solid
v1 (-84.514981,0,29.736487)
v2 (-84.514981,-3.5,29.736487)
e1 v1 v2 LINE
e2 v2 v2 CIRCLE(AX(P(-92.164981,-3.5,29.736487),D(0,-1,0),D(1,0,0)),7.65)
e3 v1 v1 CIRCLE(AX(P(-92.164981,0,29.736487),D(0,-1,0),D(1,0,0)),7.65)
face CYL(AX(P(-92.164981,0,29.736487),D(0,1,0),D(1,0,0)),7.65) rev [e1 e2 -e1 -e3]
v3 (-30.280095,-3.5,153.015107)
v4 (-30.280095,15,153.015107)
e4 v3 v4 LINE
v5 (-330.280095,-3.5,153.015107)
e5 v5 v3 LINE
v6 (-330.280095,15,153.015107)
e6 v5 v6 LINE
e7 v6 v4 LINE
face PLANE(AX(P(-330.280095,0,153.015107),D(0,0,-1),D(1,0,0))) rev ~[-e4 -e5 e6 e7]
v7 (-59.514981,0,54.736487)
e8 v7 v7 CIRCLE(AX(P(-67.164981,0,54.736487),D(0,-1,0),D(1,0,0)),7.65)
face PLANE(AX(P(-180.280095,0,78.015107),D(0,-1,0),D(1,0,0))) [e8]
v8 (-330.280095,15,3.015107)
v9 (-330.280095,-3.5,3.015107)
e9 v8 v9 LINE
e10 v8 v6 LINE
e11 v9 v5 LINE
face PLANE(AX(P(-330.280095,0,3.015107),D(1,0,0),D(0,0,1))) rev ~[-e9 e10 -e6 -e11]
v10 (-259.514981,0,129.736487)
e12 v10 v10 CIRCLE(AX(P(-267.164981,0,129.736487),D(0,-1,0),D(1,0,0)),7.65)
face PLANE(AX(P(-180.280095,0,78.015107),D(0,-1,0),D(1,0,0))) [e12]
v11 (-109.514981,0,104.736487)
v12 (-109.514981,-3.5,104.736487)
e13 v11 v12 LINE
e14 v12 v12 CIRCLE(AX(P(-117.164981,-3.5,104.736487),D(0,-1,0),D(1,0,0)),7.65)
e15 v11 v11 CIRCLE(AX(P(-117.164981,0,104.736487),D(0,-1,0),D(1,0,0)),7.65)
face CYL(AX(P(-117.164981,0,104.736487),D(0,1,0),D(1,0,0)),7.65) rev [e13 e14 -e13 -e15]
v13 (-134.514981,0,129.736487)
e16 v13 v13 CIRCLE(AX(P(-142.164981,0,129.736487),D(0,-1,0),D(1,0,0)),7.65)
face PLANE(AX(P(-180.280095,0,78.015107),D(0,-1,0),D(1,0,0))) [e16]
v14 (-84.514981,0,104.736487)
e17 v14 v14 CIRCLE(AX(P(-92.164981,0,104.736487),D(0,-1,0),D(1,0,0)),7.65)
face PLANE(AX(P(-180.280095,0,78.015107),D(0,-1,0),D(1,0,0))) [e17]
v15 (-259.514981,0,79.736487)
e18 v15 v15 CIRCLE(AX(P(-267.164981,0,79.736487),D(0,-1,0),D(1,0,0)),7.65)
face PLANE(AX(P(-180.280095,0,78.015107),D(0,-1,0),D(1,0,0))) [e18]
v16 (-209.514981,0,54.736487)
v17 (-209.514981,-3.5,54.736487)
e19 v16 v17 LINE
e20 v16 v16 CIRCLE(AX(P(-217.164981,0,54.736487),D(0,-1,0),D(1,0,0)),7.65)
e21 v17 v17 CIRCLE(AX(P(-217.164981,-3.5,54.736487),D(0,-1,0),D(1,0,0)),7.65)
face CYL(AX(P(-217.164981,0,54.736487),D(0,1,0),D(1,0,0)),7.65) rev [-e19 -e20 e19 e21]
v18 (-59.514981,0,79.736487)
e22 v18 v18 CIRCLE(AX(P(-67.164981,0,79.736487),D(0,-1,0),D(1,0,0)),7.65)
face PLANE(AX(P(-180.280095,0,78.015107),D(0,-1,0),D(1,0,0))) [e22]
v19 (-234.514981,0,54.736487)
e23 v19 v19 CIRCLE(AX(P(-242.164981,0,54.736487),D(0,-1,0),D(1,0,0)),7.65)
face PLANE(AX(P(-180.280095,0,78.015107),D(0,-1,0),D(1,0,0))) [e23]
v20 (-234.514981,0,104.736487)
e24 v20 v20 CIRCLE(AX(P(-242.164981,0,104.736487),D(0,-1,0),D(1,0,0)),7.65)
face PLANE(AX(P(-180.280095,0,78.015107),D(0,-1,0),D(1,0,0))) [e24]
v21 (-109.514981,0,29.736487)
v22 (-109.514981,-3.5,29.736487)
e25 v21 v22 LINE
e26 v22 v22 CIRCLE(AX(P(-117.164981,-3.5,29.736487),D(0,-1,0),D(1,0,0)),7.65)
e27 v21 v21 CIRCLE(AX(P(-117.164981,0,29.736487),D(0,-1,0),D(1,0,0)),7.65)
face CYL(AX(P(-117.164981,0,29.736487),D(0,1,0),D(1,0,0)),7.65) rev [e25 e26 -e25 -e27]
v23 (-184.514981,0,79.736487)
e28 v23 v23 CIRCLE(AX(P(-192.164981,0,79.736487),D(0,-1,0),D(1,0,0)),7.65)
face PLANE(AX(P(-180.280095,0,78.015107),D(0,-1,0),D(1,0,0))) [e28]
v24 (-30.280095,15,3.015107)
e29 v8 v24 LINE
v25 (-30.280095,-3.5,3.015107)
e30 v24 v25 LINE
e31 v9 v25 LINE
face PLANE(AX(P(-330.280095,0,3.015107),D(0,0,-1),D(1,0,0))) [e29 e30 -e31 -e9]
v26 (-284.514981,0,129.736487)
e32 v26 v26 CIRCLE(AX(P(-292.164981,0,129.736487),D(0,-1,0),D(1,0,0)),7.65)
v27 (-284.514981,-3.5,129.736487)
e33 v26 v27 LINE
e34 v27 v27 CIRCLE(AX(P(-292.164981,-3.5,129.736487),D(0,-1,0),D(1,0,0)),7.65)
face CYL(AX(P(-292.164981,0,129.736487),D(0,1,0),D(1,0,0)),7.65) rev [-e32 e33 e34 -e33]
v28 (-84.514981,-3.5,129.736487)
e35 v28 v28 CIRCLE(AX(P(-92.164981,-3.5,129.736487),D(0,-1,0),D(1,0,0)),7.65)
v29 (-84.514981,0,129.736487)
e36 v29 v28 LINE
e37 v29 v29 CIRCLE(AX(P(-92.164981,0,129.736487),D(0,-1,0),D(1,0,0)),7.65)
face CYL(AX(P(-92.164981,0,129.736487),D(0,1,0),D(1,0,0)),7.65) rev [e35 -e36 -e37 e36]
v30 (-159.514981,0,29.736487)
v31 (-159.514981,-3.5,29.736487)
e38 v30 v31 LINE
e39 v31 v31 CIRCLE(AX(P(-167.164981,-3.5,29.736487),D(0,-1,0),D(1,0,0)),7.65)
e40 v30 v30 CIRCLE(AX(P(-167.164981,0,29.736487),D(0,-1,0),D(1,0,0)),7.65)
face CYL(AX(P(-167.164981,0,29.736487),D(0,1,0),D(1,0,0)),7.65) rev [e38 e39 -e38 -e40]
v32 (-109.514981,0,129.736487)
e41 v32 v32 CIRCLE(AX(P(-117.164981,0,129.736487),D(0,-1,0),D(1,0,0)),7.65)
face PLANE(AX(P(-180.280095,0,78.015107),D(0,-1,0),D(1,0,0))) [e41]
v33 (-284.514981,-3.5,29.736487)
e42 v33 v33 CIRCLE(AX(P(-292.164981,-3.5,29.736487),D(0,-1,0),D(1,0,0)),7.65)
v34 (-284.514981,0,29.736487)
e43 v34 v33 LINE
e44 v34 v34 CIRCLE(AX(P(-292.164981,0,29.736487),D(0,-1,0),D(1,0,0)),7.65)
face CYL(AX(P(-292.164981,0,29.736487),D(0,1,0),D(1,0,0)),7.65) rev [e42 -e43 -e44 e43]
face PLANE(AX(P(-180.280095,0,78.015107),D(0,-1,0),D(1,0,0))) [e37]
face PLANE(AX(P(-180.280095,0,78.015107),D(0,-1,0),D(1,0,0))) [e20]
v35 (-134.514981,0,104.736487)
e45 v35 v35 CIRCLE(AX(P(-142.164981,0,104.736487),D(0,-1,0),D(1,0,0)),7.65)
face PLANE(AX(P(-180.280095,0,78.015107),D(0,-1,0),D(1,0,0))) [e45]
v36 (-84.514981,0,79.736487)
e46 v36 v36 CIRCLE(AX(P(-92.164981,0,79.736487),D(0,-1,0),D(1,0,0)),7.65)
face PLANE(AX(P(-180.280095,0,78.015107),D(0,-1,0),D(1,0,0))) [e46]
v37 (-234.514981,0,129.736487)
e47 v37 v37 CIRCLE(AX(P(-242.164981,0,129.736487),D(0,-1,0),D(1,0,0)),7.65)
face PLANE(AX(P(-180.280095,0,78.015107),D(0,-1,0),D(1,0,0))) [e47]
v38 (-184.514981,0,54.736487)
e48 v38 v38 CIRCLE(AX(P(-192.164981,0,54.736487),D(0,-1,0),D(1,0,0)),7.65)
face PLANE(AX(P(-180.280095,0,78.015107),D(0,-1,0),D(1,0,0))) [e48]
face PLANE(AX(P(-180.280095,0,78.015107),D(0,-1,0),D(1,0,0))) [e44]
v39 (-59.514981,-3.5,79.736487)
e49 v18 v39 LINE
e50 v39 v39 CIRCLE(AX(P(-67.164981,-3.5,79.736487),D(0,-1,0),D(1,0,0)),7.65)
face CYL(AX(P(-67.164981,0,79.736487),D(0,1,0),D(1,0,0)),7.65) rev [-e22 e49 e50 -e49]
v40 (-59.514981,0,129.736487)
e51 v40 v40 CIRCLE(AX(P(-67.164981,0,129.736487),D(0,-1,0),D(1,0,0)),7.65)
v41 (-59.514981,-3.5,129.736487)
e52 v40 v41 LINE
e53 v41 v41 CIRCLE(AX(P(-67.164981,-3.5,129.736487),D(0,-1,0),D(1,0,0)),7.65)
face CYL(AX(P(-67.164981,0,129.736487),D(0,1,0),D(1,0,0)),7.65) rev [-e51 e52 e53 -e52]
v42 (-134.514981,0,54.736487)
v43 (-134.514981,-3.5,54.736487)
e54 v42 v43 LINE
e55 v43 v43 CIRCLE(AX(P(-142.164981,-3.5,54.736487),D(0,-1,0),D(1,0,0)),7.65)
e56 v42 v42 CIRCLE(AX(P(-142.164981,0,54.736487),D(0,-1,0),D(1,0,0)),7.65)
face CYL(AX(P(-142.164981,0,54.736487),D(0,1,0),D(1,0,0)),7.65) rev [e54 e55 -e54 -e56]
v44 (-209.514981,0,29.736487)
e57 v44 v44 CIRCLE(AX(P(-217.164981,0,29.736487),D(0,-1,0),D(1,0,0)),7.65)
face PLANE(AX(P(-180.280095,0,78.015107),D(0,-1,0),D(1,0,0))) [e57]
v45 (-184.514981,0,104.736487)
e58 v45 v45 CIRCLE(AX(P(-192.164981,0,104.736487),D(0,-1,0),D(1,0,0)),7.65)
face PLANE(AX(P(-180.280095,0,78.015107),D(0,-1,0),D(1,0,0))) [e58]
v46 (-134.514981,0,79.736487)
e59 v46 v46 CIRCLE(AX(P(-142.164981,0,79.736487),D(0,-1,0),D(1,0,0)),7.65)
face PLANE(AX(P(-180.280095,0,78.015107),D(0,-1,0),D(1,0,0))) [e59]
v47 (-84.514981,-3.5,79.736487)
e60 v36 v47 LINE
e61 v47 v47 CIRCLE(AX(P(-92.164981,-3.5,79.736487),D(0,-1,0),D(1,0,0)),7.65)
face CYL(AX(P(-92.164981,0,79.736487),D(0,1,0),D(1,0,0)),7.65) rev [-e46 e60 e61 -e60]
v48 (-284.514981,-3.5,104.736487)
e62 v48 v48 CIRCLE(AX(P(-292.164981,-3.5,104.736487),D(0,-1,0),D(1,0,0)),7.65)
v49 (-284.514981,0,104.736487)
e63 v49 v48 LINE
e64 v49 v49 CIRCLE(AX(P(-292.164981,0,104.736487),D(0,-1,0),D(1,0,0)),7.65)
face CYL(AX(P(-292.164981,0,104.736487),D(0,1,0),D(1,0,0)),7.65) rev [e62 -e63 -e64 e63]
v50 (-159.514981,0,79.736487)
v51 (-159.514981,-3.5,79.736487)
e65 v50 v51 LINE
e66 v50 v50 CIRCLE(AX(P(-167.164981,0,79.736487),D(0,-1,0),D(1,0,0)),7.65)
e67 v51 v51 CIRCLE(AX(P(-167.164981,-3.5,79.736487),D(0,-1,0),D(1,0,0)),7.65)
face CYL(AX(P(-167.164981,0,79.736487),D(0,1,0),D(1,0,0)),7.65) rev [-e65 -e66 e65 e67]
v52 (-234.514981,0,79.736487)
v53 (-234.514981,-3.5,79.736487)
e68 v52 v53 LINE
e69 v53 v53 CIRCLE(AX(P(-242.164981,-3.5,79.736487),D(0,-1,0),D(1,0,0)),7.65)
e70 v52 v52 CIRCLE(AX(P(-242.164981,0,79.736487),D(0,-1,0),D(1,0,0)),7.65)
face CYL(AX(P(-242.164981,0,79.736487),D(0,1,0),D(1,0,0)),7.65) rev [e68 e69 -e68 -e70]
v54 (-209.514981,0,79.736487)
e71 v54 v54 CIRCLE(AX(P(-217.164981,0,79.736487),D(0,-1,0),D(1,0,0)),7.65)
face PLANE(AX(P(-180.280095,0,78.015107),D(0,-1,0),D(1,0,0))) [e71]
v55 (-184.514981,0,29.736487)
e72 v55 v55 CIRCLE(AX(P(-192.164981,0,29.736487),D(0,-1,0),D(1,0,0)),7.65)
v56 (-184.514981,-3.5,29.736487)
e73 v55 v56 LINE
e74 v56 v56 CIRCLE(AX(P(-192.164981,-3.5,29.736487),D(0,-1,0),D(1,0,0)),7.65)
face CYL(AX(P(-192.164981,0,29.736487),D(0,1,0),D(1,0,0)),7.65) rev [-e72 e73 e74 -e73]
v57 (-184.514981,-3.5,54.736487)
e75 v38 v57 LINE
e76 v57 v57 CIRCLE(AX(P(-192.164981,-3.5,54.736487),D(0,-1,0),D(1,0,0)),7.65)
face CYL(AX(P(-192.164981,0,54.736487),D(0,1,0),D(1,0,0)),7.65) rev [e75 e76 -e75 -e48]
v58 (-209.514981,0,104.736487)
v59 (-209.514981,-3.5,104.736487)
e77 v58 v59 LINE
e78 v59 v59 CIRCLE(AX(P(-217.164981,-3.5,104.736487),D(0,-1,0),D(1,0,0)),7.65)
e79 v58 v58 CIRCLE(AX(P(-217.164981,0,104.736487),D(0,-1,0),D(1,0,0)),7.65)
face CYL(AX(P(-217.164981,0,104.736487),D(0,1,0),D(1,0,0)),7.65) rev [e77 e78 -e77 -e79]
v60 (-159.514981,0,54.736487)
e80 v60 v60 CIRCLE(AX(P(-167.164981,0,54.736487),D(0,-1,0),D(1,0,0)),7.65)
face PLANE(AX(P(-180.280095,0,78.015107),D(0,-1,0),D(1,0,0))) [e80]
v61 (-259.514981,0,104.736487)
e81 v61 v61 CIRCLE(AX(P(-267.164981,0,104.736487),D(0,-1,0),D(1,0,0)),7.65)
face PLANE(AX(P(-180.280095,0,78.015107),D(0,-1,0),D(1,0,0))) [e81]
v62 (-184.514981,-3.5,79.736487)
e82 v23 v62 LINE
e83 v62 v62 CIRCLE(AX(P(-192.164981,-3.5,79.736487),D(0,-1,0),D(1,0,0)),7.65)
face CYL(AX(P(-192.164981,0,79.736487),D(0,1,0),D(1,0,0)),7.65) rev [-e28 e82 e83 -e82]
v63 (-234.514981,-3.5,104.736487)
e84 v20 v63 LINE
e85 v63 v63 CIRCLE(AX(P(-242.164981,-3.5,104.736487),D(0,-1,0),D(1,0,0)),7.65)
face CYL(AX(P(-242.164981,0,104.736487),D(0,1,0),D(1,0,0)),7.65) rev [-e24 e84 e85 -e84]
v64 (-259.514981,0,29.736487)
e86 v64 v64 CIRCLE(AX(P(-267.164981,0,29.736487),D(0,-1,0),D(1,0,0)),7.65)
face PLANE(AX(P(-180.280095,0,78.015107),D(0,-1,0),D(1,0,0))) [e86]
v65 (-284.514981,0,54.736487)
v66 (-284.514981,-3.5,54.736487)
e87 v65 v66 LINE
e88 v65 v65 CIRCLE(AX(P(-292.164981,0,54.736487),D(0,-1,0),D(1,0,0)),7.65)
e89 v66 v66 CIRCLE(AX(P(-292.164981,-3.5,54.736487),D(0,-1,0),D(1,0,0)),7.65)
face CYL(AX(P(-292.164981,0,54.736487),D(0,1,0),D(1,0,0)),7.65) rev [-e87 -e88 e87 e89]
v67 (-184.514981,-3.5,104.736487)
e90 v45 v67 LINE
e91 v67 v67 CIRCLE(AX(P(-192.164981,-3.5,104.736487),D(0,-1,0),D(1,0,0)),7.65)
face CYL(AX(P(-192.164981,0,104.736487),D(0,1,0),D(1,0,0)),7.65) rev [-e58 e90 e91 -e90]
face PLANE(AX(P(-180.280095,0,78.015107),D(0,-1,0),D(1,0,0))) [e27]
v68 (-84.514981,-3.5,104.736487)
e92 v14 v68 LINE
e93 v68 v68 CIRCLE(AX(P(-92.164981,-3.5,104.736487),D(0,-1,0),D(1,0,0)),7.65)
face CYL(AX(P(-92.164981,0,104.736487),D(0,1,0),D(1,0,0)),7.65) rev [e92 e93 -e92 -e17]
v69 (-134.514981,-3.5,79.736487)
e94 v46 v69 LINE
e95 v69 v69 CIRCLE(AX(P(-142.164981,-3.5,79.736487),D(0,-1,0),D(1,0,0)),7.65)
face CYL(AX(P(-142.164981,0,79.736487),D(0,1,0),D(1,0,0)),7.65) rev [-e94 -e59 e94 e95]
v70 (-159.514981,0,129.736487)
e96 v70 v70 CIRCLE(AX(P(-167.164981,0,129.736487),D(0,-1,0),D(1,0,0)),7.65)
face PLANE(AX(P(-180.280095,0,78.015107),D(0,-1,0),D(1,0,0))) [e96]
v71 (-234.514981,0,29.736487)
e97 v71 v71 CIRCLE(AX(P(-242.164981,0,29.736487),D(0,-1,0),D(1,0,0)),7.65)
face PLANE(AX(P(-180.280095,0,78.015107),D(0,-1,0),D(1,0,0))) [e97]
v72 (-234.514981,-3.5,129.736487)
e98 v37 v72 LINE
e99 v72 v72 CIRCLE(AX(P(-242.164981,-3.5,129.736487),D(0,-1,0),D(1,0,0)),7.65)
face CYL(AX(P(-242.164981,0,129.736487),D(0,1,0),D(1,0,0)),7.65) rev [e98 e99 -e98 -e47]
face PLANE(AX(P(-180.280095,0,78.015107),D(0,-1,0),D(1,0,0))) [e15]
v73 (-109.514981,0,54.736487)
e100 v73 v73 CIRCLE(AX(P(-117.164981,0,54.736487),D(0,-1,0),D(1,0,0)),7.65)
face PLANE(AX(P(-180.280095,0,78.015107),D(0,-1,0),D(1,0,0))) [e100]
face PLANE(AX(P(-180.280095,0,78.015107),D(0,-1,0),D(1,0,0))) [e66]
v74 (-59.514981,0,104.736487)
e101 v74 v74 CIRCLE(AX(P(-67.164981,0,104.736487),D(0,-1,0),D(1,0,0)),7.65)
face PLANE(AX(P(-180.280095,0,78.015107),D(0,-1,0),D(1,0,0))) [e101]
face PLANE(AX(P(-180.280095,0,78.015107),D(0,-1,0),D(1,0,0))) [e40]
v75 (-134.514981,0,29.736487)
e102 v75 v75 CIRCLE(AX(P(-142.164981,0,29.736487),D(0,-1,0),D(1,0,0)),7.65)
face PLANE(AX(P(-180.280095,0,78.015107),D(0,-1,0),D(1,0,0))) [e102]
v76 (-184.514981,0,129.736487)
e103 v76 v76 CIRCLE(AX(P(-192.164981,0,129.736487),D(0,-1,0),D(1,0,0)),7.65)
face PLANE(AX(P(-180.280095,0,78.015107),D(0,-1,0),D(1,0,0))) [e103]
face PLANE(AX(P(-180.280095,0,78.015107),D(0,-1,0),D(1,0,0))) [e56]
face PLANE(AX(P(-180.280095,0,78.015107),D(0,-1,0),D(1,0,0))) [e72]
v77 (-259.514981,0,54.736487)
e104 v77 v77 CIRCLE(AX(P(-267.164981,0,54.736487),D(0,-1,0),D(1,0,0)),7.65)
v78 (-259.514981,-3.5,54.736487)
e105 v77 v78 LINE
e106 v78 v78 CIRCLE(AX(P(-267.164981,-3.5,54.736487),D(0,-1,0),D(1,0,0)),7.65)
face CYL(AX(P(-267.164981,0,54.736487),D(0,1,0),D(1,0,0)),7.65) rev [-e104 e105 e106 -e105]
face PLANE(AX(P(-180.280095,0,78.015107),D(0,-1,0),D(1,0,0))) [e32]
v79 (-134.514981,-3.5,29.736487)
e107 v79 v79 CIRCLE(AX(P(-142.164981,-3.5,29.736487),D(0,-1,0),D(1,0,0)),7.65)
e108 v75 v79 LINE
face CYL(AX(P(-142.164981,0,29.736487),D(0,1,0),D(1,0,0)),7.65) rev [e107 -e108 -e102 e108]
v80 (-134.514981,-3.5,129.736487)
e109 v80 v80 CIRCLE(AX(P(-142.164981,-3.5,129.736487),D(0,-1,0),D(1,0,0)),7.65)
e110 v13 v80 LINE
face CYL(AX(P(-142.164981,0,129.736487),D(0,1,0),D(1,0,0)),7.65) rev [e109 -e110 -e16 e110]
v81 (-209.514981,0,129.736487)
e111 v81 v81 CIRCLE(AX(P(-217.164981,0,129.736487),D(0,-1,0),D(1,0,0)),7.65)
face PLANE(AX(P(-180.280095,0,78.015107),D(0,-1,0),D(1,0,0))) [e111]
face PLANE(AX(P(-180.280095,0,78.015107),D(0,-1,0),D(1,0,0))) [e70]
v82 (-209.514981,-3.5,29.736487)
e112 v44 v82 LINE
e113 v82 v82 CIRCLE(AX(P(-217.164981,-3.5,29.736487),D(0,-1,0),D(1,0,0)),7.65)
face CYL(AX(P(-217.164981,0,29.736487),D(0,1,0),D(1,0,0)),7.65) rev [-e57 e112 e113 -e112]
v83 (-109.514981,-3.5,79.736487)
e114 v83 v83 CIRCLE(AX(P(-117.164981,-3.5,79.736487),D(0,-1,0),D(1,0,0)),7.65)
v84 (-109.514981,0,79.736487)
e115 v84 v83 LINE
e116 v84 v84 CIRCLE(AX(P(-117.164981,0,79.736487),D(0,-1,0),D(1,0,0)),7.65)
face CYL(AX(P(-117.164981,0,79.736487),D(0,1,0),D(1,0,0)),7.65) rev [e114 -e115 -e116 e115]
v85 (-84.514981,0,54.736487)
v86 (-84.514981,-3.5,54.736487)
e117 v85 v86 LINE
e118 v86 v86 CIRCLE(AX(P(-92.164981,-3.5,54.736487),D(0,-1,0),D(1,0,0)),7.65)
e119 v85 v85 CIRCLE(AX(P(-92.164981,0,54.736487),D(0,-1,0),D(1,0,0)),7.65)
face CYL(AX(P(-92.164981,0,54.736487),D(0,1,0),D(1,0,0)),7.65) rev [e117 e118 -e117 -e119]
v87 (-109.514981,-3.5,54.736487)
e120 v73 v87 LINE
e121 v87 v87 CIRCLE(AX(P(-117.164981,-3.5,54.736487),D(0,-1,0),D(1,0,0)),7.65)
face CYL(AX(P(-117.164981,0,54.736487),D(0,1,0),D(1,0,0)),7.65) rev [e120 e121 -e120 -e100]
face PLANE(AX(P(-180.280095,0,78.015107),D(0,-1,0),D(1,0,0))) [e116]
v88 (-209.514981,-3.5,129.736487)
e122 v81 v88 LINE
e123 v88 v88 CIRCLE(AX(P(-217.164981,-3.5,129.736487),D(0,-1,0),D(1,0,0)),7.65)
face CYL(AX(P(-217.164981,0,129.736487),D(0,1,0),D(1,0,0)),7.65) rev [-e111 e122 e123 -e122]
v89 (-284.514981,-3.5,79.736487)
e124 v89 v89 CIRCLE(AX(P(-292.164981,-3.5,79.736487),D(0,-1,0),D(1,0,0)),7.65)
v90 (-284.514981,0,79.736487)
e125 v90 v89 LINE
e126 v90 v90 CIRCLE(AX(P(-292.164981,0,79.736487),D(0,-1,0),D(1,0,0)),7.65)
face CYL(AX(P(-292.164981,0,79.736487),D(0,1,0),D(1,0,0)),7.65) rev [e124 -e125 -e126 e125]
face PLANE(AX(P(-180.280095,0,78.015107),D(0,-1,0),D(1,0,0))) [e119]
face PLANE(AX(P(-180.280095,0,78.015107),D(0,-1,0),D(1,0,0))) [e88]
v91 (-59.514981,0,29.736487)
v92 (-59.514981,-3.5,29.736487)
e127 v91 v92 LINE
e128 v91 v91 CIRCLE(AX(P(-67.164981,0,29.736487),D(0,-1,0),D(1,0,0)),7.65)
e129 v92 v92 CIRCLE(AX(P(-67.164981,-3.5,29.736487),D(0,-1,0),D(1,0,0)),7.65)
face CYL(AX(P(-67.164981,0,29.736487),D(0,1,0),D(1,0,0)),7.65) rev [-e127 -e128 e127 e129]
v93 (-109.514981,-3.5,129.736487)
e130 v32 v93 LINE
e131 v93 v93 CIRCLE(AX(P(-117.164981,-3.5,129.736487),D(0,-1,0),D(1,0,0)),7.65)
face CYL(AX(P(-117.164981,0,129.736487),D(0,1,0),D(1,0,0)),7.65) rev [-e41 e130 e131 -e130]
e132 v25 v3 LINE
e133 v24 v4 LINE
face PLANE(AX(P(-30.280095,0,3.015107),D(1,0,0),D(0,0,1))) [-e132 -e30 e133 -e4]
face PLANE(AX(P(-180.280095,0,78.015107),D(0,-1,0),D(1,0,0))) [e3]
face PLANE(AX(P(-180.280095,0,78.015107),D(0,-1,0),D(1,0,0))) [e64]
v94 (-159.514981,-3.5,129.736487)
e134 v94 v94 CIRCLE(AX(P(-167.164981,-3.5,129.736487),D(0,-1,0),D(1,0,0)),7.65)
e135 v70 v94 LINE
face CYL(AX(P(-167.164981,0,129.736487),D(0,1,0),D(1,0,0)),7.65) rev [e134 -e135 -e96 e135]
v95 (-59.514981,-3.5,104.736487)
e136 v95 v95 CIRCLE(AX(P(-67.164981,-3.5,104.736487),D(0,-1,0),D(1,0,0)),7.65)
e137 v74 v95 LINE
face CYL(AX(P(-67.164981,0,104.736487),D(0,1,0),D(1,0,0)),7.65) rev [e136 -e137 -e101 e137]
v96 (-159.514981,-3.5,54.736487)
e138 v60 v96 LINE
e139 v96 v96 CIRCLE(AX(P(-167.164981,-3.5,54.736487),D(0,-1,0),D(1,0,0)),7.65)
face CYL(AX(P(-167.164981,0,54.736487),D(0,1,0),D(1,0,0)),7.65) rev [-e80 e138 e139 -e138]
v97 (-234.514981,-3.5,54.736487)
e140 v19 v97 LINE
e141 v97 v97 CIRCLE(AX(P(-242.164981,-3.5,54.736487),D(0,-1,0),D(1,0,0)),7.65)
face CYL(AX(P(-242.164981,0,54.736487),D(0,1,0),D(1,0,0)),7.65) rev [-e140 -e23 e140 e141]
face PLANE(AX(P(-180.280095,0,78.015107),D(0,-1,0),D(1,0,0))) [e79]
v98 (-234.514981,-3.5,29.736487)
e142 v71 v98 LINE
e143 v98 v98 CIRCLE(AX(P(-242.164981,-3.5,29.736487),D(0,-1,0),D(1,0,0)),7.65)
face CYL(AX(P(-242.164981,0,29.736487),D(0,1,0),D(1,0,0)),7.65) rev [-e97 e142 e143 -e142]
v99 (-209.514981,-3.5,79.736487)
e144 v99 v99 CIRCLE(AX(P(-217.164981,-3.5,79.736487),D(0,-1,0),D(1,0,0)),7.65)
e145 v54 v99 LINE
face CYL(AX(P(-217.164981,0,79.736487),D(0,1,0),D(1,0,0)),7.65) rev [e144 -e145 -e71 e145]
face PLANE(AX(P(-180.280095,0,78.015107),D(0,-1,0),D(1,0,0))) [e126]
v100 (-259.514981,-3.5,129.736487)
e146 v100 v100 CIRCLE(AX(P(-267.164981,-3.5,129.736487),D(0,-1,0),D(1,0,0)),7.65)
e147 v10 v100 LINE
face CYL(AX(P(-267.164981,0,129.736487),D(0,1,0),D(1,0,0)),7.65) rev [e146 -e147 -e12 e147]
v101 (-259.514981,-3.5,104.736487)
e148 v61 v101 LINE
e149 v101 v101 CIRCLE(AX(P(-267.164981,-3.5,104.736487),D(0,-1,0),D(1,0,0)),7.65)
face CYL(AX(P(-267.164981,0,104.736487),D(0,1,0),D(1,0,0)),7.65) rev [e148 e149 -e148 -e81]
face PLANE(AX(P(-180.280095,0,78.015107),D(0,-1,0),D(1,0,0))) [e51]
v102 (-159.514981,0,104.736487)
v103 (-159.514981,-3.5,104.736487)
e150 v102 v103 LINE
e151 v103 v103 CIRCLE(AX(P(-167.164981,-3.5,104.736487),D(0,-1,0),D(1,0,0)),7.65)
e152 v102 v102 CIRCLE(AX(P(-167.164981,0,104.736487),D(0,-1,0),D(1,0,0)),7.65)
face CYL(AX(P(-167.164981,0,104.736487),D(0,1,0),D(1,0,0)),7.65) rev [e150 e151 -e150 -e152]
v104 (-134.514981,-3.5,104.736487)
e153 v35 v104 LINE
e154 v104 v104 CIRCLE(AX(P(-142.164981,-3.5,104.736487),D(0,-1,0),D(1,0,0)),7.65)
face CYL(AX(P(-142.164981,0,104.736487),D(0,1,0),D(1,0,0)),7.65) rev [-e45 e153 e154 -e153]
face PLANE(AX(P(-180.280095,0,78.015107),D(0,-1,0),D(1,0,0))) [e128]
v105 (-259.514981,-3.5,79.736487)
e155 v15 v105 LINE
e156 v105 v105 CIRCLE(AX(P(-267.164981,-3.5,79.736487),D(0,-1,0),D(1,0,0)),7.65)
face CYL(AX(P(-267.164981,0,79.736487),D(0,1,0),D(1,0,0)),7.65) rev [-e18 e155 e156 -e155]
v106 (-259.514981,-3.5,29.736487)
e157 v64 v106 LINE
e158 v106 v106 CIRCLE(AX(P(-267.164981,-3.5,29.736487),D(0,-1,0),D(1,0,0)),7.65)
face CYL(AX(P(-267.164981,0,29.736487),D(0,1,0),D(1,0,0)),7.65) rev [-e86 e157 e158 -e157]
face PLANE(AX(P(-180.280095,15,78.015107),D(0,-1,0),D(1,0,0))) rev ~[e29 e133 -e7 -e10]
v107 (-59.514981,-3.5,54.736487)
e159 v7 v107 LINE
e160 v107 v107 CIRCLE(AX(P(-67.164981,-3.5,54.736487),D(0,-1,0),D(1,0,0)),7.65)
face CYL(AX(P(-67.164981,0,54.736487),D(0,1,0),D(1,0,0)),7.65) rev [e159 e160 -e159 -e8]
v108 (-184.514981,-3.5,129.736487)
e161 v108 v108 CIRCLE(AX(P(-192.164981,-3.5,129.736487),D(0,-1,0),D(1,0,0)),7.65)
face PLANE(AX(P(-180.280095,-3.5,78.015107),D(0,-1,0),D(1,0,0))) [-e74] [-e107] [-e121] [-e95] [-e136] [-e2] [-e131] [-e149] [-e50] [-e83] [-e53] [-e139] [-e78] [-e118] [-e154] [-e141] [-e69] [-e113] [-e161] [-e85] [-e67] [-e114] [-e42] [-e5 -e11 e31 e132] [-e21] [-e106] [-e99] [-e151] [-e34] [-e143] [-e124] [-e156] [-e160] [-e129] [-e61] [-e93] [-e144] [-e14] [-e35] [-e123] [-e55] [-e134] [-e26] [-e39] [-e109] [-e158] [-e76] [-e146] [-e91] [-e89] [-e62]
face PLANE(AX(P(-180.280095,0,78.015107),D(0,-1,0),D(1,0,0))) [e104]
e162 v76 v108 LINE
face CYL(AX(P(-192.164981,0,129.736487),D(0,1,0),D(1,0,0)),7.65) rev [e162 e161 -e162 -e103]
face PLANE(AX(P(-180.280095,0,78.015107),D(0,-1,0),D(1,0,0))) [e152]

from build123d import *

# Parameters (mm, degrees)
F0_W     = 300
F0_H     = 150
F0_R     = 7.65
F1_DEPTH = 3.5
F2_W     = 300
F2_H     = 150
F3_DEPTH = 15


with BuildPart() as f1:
    # F0 (on Front) → F1 (new body)
    with BuildSketch(Plane.XZ):
        with Locations((-180.280095, 78.015107)):
            Rectangle(F0_W, F0_H)
        with Locations((-292.164981, 29.736487)):
            Circle(F0_R, mode=Mode.SUBTRACT)
        with Locations((-267.164981, 29.736487)):
            Circle(F0_R, mode=Mode.SUBTRACT)
        with Locations((-242.164981, 29.736487)):
            Circle(F0_R, mode=Mode.SUBTRACT)
        with Locations((-217.164981, 29.736487)):
            Circle(F0_R, mode=Mode.SUBTRACT)
        with Locations((-192.164981, 29.736487)):
            Circle(F0_R, mode=Mode.SUBTRACT)
        with Locations((-292.164981, 54.736487)):
            Circle(F0_R, mode=Mode.SUBTRACT)
        with Locations((-267.164981, 54.736487)):
            Circle(F0_R, mode=Mode.SUBTRACT)
        with Locations((-242.164981, 54.736487)):
            Circle(F0_R, mode=Mode.SUBTRACT)
        with Locations((-217.164981, 54.736487)):
            Circle(F0_R, mode=Mode.SUBTRACT)
        with Locations((-192.164981, 54.736487)):
            Circle(F0_R, mode=Mode.SUBTRACT)
        with Locations((-167.164981, 29.736487)):
            Circle(F0_R, mode=Mode.SUBTRACT)
        with Locations((-142.164981, 29.736487)):
            Circle(F0_R, mode=Mode.SUBTRACT)
        with Locations((-117.164981, 29.736487)):
            Circle(F0_R, mode=Mode.SUBTRACT)
        with Locations((-92.164981, 29.736487)):
            Circle(F0_R, mode=Mode.SUBTRACT)
        with Locations((-67.164981, 29.736487)):
            Circle(F0_R, mode=Mode.SUBTRACT)
        with Locations((-167.164981, 54.736487)):
            Circle(F0_R, mode=Mode.SUBTRACT)
        with Locations((-142.164981, 54.736487)):
            Circle(F0_R, mode=Mode.SUBTRACT)
        with Locations((-117.164981, 54.736487)):
            Circle(F0_R, mode=Mode.SUBTRACT)
        with Locations((-92.164981, 54.736487)):
            Circle(F0_R, mode=Mode.SUBTRACT)
        with Locations((-67.164981, 54.736487)):
            Circle(F0_R, mode=Mode.SUBTRACT)
        with Locations((-292.164981, 79.736487)):
            Circle(F0_R, mode=Mode.SUBTRACT)
        with Locations((-267.164981, 79.736487)):
            Circle(F0_R, mode=Mode.SUBTRACT)
        with Locations((-292.164981, 104.736487)):
            Circle(F0_R, mode=Mode.SUBTRACT)
        with Locations((-267.164981, 104.736487)):
            Circle(F0_R, mode=Mode.SUBTRACT)
        with Locations((-242.164981, 79.736487)):
            Circle(F0_R, mode=Mode.SUBTRACT)
        with Locations((-217.164981, 79.736487)):
            Circle(F0_R, mode=Mode.SUBTRACT)
        with Locations((-192.164981, 79.736487)):
            Circle(F0_R, mode=Mode.SUBTRACT)
        with Locations((-242.164981, 104.736487)):
            Circle(F0_R, mode=Mode.SUBTRACT)
        with Locations((-217.164981, 104.736487)):
            Circle(F0_R, mode=Mode.SUBTRACT)
        with Locations((-192.164981, 104.736487)):
            Circle(F0_R, mode=Mode.SUBTRACT)
        with Locations((-292.164981, 129.736487)):
            Circle(F0_R, mode=Mode.SUBTRACT)
        with Locations((-267.164981, 129.736487)):
            Circle(F0_R, mode=Mode.SUBTRACT)
        with Locations((-242.164981, 129.736487)):
            Circle(F0_R, mode=Mode.SUBTRACT)
        with Locations((-217.164981, 129.736487)):
            Circle(F0_R, mode=Mode.SUBTRACT)
        with Locations((-192.164981, 129.736487)):
            Circle(F0_R, mode=Mode.SUBTRACT)
        with Locations((-167.164981, 79.736487)):
            Circle(F0_R, mode=Mode.SUBTRACT)
        with Locations((-142.164981, 79.736487)):
            Circle(F0_R, mode=Mode.SUBTRACT)
        with Locations((-117.164981, 79.736487)):
            Circle(F0_R, mode=Mode.SUBTRACT)
        with Locations((-167.164981, 104.736487)):
            Circle(F0_R, mode=Mode.SUBTRACT)
        with Locations((-142.164981, 104.736487)):
            Circle(F0_R, mode=Mode.SUBTRACT)
        with Locations((-117.164981, 104.736487)):
            Circle(F0_R, mode=Mode.SUBTRACT)
        with Locations((-92.164981, 79.736487)):
            Circle(F0_R, mode=Mode.SUBTRACT)
        with Locations((-67.164981, 79.736487)):
            Circle(F0_R, mode=Mode.SUBTRACT)
        with Locations((-92.164981, 104.736487)):
            Circle(F0_R, mode=Mode.SUBTRACT)
        with Locations((-67.164981, 104.736487)):
            Circle(F0_R, mode=Mode.SUBTRACT)
        with Locations((-167.164981, 129.736487)):
            Circle(F0_R, mode=Mode.SUBTRACT)
        with Locations((-142.164981, 129.736487)):
            Circle(F0_R, mode=Mode.SUBTRACT)
        with Locations((-117.164981, 129.736487)):
            Circle(F0_R, mode=Mode.SUBTRACT)
        with Locations((-92.164981, 129.736487)):
            Circle(F0_R, mode=Mode.SUBTRACT)
        with Locations((-67.164981, 129.736487)):
            Circle(F0_R, mode=Mode.SUBTRACT)
    extrude(amount=F1_DEPTH)

    # F2 (on Front) → F3 (join)
    with BuildSketch(Plane.XZ):
        with Locations((-180.280095, 78.015107)):
            Rectangle(F2_W, F2_H)
    extrude(amount=-F3_DEPTH)


solid = f1.part
